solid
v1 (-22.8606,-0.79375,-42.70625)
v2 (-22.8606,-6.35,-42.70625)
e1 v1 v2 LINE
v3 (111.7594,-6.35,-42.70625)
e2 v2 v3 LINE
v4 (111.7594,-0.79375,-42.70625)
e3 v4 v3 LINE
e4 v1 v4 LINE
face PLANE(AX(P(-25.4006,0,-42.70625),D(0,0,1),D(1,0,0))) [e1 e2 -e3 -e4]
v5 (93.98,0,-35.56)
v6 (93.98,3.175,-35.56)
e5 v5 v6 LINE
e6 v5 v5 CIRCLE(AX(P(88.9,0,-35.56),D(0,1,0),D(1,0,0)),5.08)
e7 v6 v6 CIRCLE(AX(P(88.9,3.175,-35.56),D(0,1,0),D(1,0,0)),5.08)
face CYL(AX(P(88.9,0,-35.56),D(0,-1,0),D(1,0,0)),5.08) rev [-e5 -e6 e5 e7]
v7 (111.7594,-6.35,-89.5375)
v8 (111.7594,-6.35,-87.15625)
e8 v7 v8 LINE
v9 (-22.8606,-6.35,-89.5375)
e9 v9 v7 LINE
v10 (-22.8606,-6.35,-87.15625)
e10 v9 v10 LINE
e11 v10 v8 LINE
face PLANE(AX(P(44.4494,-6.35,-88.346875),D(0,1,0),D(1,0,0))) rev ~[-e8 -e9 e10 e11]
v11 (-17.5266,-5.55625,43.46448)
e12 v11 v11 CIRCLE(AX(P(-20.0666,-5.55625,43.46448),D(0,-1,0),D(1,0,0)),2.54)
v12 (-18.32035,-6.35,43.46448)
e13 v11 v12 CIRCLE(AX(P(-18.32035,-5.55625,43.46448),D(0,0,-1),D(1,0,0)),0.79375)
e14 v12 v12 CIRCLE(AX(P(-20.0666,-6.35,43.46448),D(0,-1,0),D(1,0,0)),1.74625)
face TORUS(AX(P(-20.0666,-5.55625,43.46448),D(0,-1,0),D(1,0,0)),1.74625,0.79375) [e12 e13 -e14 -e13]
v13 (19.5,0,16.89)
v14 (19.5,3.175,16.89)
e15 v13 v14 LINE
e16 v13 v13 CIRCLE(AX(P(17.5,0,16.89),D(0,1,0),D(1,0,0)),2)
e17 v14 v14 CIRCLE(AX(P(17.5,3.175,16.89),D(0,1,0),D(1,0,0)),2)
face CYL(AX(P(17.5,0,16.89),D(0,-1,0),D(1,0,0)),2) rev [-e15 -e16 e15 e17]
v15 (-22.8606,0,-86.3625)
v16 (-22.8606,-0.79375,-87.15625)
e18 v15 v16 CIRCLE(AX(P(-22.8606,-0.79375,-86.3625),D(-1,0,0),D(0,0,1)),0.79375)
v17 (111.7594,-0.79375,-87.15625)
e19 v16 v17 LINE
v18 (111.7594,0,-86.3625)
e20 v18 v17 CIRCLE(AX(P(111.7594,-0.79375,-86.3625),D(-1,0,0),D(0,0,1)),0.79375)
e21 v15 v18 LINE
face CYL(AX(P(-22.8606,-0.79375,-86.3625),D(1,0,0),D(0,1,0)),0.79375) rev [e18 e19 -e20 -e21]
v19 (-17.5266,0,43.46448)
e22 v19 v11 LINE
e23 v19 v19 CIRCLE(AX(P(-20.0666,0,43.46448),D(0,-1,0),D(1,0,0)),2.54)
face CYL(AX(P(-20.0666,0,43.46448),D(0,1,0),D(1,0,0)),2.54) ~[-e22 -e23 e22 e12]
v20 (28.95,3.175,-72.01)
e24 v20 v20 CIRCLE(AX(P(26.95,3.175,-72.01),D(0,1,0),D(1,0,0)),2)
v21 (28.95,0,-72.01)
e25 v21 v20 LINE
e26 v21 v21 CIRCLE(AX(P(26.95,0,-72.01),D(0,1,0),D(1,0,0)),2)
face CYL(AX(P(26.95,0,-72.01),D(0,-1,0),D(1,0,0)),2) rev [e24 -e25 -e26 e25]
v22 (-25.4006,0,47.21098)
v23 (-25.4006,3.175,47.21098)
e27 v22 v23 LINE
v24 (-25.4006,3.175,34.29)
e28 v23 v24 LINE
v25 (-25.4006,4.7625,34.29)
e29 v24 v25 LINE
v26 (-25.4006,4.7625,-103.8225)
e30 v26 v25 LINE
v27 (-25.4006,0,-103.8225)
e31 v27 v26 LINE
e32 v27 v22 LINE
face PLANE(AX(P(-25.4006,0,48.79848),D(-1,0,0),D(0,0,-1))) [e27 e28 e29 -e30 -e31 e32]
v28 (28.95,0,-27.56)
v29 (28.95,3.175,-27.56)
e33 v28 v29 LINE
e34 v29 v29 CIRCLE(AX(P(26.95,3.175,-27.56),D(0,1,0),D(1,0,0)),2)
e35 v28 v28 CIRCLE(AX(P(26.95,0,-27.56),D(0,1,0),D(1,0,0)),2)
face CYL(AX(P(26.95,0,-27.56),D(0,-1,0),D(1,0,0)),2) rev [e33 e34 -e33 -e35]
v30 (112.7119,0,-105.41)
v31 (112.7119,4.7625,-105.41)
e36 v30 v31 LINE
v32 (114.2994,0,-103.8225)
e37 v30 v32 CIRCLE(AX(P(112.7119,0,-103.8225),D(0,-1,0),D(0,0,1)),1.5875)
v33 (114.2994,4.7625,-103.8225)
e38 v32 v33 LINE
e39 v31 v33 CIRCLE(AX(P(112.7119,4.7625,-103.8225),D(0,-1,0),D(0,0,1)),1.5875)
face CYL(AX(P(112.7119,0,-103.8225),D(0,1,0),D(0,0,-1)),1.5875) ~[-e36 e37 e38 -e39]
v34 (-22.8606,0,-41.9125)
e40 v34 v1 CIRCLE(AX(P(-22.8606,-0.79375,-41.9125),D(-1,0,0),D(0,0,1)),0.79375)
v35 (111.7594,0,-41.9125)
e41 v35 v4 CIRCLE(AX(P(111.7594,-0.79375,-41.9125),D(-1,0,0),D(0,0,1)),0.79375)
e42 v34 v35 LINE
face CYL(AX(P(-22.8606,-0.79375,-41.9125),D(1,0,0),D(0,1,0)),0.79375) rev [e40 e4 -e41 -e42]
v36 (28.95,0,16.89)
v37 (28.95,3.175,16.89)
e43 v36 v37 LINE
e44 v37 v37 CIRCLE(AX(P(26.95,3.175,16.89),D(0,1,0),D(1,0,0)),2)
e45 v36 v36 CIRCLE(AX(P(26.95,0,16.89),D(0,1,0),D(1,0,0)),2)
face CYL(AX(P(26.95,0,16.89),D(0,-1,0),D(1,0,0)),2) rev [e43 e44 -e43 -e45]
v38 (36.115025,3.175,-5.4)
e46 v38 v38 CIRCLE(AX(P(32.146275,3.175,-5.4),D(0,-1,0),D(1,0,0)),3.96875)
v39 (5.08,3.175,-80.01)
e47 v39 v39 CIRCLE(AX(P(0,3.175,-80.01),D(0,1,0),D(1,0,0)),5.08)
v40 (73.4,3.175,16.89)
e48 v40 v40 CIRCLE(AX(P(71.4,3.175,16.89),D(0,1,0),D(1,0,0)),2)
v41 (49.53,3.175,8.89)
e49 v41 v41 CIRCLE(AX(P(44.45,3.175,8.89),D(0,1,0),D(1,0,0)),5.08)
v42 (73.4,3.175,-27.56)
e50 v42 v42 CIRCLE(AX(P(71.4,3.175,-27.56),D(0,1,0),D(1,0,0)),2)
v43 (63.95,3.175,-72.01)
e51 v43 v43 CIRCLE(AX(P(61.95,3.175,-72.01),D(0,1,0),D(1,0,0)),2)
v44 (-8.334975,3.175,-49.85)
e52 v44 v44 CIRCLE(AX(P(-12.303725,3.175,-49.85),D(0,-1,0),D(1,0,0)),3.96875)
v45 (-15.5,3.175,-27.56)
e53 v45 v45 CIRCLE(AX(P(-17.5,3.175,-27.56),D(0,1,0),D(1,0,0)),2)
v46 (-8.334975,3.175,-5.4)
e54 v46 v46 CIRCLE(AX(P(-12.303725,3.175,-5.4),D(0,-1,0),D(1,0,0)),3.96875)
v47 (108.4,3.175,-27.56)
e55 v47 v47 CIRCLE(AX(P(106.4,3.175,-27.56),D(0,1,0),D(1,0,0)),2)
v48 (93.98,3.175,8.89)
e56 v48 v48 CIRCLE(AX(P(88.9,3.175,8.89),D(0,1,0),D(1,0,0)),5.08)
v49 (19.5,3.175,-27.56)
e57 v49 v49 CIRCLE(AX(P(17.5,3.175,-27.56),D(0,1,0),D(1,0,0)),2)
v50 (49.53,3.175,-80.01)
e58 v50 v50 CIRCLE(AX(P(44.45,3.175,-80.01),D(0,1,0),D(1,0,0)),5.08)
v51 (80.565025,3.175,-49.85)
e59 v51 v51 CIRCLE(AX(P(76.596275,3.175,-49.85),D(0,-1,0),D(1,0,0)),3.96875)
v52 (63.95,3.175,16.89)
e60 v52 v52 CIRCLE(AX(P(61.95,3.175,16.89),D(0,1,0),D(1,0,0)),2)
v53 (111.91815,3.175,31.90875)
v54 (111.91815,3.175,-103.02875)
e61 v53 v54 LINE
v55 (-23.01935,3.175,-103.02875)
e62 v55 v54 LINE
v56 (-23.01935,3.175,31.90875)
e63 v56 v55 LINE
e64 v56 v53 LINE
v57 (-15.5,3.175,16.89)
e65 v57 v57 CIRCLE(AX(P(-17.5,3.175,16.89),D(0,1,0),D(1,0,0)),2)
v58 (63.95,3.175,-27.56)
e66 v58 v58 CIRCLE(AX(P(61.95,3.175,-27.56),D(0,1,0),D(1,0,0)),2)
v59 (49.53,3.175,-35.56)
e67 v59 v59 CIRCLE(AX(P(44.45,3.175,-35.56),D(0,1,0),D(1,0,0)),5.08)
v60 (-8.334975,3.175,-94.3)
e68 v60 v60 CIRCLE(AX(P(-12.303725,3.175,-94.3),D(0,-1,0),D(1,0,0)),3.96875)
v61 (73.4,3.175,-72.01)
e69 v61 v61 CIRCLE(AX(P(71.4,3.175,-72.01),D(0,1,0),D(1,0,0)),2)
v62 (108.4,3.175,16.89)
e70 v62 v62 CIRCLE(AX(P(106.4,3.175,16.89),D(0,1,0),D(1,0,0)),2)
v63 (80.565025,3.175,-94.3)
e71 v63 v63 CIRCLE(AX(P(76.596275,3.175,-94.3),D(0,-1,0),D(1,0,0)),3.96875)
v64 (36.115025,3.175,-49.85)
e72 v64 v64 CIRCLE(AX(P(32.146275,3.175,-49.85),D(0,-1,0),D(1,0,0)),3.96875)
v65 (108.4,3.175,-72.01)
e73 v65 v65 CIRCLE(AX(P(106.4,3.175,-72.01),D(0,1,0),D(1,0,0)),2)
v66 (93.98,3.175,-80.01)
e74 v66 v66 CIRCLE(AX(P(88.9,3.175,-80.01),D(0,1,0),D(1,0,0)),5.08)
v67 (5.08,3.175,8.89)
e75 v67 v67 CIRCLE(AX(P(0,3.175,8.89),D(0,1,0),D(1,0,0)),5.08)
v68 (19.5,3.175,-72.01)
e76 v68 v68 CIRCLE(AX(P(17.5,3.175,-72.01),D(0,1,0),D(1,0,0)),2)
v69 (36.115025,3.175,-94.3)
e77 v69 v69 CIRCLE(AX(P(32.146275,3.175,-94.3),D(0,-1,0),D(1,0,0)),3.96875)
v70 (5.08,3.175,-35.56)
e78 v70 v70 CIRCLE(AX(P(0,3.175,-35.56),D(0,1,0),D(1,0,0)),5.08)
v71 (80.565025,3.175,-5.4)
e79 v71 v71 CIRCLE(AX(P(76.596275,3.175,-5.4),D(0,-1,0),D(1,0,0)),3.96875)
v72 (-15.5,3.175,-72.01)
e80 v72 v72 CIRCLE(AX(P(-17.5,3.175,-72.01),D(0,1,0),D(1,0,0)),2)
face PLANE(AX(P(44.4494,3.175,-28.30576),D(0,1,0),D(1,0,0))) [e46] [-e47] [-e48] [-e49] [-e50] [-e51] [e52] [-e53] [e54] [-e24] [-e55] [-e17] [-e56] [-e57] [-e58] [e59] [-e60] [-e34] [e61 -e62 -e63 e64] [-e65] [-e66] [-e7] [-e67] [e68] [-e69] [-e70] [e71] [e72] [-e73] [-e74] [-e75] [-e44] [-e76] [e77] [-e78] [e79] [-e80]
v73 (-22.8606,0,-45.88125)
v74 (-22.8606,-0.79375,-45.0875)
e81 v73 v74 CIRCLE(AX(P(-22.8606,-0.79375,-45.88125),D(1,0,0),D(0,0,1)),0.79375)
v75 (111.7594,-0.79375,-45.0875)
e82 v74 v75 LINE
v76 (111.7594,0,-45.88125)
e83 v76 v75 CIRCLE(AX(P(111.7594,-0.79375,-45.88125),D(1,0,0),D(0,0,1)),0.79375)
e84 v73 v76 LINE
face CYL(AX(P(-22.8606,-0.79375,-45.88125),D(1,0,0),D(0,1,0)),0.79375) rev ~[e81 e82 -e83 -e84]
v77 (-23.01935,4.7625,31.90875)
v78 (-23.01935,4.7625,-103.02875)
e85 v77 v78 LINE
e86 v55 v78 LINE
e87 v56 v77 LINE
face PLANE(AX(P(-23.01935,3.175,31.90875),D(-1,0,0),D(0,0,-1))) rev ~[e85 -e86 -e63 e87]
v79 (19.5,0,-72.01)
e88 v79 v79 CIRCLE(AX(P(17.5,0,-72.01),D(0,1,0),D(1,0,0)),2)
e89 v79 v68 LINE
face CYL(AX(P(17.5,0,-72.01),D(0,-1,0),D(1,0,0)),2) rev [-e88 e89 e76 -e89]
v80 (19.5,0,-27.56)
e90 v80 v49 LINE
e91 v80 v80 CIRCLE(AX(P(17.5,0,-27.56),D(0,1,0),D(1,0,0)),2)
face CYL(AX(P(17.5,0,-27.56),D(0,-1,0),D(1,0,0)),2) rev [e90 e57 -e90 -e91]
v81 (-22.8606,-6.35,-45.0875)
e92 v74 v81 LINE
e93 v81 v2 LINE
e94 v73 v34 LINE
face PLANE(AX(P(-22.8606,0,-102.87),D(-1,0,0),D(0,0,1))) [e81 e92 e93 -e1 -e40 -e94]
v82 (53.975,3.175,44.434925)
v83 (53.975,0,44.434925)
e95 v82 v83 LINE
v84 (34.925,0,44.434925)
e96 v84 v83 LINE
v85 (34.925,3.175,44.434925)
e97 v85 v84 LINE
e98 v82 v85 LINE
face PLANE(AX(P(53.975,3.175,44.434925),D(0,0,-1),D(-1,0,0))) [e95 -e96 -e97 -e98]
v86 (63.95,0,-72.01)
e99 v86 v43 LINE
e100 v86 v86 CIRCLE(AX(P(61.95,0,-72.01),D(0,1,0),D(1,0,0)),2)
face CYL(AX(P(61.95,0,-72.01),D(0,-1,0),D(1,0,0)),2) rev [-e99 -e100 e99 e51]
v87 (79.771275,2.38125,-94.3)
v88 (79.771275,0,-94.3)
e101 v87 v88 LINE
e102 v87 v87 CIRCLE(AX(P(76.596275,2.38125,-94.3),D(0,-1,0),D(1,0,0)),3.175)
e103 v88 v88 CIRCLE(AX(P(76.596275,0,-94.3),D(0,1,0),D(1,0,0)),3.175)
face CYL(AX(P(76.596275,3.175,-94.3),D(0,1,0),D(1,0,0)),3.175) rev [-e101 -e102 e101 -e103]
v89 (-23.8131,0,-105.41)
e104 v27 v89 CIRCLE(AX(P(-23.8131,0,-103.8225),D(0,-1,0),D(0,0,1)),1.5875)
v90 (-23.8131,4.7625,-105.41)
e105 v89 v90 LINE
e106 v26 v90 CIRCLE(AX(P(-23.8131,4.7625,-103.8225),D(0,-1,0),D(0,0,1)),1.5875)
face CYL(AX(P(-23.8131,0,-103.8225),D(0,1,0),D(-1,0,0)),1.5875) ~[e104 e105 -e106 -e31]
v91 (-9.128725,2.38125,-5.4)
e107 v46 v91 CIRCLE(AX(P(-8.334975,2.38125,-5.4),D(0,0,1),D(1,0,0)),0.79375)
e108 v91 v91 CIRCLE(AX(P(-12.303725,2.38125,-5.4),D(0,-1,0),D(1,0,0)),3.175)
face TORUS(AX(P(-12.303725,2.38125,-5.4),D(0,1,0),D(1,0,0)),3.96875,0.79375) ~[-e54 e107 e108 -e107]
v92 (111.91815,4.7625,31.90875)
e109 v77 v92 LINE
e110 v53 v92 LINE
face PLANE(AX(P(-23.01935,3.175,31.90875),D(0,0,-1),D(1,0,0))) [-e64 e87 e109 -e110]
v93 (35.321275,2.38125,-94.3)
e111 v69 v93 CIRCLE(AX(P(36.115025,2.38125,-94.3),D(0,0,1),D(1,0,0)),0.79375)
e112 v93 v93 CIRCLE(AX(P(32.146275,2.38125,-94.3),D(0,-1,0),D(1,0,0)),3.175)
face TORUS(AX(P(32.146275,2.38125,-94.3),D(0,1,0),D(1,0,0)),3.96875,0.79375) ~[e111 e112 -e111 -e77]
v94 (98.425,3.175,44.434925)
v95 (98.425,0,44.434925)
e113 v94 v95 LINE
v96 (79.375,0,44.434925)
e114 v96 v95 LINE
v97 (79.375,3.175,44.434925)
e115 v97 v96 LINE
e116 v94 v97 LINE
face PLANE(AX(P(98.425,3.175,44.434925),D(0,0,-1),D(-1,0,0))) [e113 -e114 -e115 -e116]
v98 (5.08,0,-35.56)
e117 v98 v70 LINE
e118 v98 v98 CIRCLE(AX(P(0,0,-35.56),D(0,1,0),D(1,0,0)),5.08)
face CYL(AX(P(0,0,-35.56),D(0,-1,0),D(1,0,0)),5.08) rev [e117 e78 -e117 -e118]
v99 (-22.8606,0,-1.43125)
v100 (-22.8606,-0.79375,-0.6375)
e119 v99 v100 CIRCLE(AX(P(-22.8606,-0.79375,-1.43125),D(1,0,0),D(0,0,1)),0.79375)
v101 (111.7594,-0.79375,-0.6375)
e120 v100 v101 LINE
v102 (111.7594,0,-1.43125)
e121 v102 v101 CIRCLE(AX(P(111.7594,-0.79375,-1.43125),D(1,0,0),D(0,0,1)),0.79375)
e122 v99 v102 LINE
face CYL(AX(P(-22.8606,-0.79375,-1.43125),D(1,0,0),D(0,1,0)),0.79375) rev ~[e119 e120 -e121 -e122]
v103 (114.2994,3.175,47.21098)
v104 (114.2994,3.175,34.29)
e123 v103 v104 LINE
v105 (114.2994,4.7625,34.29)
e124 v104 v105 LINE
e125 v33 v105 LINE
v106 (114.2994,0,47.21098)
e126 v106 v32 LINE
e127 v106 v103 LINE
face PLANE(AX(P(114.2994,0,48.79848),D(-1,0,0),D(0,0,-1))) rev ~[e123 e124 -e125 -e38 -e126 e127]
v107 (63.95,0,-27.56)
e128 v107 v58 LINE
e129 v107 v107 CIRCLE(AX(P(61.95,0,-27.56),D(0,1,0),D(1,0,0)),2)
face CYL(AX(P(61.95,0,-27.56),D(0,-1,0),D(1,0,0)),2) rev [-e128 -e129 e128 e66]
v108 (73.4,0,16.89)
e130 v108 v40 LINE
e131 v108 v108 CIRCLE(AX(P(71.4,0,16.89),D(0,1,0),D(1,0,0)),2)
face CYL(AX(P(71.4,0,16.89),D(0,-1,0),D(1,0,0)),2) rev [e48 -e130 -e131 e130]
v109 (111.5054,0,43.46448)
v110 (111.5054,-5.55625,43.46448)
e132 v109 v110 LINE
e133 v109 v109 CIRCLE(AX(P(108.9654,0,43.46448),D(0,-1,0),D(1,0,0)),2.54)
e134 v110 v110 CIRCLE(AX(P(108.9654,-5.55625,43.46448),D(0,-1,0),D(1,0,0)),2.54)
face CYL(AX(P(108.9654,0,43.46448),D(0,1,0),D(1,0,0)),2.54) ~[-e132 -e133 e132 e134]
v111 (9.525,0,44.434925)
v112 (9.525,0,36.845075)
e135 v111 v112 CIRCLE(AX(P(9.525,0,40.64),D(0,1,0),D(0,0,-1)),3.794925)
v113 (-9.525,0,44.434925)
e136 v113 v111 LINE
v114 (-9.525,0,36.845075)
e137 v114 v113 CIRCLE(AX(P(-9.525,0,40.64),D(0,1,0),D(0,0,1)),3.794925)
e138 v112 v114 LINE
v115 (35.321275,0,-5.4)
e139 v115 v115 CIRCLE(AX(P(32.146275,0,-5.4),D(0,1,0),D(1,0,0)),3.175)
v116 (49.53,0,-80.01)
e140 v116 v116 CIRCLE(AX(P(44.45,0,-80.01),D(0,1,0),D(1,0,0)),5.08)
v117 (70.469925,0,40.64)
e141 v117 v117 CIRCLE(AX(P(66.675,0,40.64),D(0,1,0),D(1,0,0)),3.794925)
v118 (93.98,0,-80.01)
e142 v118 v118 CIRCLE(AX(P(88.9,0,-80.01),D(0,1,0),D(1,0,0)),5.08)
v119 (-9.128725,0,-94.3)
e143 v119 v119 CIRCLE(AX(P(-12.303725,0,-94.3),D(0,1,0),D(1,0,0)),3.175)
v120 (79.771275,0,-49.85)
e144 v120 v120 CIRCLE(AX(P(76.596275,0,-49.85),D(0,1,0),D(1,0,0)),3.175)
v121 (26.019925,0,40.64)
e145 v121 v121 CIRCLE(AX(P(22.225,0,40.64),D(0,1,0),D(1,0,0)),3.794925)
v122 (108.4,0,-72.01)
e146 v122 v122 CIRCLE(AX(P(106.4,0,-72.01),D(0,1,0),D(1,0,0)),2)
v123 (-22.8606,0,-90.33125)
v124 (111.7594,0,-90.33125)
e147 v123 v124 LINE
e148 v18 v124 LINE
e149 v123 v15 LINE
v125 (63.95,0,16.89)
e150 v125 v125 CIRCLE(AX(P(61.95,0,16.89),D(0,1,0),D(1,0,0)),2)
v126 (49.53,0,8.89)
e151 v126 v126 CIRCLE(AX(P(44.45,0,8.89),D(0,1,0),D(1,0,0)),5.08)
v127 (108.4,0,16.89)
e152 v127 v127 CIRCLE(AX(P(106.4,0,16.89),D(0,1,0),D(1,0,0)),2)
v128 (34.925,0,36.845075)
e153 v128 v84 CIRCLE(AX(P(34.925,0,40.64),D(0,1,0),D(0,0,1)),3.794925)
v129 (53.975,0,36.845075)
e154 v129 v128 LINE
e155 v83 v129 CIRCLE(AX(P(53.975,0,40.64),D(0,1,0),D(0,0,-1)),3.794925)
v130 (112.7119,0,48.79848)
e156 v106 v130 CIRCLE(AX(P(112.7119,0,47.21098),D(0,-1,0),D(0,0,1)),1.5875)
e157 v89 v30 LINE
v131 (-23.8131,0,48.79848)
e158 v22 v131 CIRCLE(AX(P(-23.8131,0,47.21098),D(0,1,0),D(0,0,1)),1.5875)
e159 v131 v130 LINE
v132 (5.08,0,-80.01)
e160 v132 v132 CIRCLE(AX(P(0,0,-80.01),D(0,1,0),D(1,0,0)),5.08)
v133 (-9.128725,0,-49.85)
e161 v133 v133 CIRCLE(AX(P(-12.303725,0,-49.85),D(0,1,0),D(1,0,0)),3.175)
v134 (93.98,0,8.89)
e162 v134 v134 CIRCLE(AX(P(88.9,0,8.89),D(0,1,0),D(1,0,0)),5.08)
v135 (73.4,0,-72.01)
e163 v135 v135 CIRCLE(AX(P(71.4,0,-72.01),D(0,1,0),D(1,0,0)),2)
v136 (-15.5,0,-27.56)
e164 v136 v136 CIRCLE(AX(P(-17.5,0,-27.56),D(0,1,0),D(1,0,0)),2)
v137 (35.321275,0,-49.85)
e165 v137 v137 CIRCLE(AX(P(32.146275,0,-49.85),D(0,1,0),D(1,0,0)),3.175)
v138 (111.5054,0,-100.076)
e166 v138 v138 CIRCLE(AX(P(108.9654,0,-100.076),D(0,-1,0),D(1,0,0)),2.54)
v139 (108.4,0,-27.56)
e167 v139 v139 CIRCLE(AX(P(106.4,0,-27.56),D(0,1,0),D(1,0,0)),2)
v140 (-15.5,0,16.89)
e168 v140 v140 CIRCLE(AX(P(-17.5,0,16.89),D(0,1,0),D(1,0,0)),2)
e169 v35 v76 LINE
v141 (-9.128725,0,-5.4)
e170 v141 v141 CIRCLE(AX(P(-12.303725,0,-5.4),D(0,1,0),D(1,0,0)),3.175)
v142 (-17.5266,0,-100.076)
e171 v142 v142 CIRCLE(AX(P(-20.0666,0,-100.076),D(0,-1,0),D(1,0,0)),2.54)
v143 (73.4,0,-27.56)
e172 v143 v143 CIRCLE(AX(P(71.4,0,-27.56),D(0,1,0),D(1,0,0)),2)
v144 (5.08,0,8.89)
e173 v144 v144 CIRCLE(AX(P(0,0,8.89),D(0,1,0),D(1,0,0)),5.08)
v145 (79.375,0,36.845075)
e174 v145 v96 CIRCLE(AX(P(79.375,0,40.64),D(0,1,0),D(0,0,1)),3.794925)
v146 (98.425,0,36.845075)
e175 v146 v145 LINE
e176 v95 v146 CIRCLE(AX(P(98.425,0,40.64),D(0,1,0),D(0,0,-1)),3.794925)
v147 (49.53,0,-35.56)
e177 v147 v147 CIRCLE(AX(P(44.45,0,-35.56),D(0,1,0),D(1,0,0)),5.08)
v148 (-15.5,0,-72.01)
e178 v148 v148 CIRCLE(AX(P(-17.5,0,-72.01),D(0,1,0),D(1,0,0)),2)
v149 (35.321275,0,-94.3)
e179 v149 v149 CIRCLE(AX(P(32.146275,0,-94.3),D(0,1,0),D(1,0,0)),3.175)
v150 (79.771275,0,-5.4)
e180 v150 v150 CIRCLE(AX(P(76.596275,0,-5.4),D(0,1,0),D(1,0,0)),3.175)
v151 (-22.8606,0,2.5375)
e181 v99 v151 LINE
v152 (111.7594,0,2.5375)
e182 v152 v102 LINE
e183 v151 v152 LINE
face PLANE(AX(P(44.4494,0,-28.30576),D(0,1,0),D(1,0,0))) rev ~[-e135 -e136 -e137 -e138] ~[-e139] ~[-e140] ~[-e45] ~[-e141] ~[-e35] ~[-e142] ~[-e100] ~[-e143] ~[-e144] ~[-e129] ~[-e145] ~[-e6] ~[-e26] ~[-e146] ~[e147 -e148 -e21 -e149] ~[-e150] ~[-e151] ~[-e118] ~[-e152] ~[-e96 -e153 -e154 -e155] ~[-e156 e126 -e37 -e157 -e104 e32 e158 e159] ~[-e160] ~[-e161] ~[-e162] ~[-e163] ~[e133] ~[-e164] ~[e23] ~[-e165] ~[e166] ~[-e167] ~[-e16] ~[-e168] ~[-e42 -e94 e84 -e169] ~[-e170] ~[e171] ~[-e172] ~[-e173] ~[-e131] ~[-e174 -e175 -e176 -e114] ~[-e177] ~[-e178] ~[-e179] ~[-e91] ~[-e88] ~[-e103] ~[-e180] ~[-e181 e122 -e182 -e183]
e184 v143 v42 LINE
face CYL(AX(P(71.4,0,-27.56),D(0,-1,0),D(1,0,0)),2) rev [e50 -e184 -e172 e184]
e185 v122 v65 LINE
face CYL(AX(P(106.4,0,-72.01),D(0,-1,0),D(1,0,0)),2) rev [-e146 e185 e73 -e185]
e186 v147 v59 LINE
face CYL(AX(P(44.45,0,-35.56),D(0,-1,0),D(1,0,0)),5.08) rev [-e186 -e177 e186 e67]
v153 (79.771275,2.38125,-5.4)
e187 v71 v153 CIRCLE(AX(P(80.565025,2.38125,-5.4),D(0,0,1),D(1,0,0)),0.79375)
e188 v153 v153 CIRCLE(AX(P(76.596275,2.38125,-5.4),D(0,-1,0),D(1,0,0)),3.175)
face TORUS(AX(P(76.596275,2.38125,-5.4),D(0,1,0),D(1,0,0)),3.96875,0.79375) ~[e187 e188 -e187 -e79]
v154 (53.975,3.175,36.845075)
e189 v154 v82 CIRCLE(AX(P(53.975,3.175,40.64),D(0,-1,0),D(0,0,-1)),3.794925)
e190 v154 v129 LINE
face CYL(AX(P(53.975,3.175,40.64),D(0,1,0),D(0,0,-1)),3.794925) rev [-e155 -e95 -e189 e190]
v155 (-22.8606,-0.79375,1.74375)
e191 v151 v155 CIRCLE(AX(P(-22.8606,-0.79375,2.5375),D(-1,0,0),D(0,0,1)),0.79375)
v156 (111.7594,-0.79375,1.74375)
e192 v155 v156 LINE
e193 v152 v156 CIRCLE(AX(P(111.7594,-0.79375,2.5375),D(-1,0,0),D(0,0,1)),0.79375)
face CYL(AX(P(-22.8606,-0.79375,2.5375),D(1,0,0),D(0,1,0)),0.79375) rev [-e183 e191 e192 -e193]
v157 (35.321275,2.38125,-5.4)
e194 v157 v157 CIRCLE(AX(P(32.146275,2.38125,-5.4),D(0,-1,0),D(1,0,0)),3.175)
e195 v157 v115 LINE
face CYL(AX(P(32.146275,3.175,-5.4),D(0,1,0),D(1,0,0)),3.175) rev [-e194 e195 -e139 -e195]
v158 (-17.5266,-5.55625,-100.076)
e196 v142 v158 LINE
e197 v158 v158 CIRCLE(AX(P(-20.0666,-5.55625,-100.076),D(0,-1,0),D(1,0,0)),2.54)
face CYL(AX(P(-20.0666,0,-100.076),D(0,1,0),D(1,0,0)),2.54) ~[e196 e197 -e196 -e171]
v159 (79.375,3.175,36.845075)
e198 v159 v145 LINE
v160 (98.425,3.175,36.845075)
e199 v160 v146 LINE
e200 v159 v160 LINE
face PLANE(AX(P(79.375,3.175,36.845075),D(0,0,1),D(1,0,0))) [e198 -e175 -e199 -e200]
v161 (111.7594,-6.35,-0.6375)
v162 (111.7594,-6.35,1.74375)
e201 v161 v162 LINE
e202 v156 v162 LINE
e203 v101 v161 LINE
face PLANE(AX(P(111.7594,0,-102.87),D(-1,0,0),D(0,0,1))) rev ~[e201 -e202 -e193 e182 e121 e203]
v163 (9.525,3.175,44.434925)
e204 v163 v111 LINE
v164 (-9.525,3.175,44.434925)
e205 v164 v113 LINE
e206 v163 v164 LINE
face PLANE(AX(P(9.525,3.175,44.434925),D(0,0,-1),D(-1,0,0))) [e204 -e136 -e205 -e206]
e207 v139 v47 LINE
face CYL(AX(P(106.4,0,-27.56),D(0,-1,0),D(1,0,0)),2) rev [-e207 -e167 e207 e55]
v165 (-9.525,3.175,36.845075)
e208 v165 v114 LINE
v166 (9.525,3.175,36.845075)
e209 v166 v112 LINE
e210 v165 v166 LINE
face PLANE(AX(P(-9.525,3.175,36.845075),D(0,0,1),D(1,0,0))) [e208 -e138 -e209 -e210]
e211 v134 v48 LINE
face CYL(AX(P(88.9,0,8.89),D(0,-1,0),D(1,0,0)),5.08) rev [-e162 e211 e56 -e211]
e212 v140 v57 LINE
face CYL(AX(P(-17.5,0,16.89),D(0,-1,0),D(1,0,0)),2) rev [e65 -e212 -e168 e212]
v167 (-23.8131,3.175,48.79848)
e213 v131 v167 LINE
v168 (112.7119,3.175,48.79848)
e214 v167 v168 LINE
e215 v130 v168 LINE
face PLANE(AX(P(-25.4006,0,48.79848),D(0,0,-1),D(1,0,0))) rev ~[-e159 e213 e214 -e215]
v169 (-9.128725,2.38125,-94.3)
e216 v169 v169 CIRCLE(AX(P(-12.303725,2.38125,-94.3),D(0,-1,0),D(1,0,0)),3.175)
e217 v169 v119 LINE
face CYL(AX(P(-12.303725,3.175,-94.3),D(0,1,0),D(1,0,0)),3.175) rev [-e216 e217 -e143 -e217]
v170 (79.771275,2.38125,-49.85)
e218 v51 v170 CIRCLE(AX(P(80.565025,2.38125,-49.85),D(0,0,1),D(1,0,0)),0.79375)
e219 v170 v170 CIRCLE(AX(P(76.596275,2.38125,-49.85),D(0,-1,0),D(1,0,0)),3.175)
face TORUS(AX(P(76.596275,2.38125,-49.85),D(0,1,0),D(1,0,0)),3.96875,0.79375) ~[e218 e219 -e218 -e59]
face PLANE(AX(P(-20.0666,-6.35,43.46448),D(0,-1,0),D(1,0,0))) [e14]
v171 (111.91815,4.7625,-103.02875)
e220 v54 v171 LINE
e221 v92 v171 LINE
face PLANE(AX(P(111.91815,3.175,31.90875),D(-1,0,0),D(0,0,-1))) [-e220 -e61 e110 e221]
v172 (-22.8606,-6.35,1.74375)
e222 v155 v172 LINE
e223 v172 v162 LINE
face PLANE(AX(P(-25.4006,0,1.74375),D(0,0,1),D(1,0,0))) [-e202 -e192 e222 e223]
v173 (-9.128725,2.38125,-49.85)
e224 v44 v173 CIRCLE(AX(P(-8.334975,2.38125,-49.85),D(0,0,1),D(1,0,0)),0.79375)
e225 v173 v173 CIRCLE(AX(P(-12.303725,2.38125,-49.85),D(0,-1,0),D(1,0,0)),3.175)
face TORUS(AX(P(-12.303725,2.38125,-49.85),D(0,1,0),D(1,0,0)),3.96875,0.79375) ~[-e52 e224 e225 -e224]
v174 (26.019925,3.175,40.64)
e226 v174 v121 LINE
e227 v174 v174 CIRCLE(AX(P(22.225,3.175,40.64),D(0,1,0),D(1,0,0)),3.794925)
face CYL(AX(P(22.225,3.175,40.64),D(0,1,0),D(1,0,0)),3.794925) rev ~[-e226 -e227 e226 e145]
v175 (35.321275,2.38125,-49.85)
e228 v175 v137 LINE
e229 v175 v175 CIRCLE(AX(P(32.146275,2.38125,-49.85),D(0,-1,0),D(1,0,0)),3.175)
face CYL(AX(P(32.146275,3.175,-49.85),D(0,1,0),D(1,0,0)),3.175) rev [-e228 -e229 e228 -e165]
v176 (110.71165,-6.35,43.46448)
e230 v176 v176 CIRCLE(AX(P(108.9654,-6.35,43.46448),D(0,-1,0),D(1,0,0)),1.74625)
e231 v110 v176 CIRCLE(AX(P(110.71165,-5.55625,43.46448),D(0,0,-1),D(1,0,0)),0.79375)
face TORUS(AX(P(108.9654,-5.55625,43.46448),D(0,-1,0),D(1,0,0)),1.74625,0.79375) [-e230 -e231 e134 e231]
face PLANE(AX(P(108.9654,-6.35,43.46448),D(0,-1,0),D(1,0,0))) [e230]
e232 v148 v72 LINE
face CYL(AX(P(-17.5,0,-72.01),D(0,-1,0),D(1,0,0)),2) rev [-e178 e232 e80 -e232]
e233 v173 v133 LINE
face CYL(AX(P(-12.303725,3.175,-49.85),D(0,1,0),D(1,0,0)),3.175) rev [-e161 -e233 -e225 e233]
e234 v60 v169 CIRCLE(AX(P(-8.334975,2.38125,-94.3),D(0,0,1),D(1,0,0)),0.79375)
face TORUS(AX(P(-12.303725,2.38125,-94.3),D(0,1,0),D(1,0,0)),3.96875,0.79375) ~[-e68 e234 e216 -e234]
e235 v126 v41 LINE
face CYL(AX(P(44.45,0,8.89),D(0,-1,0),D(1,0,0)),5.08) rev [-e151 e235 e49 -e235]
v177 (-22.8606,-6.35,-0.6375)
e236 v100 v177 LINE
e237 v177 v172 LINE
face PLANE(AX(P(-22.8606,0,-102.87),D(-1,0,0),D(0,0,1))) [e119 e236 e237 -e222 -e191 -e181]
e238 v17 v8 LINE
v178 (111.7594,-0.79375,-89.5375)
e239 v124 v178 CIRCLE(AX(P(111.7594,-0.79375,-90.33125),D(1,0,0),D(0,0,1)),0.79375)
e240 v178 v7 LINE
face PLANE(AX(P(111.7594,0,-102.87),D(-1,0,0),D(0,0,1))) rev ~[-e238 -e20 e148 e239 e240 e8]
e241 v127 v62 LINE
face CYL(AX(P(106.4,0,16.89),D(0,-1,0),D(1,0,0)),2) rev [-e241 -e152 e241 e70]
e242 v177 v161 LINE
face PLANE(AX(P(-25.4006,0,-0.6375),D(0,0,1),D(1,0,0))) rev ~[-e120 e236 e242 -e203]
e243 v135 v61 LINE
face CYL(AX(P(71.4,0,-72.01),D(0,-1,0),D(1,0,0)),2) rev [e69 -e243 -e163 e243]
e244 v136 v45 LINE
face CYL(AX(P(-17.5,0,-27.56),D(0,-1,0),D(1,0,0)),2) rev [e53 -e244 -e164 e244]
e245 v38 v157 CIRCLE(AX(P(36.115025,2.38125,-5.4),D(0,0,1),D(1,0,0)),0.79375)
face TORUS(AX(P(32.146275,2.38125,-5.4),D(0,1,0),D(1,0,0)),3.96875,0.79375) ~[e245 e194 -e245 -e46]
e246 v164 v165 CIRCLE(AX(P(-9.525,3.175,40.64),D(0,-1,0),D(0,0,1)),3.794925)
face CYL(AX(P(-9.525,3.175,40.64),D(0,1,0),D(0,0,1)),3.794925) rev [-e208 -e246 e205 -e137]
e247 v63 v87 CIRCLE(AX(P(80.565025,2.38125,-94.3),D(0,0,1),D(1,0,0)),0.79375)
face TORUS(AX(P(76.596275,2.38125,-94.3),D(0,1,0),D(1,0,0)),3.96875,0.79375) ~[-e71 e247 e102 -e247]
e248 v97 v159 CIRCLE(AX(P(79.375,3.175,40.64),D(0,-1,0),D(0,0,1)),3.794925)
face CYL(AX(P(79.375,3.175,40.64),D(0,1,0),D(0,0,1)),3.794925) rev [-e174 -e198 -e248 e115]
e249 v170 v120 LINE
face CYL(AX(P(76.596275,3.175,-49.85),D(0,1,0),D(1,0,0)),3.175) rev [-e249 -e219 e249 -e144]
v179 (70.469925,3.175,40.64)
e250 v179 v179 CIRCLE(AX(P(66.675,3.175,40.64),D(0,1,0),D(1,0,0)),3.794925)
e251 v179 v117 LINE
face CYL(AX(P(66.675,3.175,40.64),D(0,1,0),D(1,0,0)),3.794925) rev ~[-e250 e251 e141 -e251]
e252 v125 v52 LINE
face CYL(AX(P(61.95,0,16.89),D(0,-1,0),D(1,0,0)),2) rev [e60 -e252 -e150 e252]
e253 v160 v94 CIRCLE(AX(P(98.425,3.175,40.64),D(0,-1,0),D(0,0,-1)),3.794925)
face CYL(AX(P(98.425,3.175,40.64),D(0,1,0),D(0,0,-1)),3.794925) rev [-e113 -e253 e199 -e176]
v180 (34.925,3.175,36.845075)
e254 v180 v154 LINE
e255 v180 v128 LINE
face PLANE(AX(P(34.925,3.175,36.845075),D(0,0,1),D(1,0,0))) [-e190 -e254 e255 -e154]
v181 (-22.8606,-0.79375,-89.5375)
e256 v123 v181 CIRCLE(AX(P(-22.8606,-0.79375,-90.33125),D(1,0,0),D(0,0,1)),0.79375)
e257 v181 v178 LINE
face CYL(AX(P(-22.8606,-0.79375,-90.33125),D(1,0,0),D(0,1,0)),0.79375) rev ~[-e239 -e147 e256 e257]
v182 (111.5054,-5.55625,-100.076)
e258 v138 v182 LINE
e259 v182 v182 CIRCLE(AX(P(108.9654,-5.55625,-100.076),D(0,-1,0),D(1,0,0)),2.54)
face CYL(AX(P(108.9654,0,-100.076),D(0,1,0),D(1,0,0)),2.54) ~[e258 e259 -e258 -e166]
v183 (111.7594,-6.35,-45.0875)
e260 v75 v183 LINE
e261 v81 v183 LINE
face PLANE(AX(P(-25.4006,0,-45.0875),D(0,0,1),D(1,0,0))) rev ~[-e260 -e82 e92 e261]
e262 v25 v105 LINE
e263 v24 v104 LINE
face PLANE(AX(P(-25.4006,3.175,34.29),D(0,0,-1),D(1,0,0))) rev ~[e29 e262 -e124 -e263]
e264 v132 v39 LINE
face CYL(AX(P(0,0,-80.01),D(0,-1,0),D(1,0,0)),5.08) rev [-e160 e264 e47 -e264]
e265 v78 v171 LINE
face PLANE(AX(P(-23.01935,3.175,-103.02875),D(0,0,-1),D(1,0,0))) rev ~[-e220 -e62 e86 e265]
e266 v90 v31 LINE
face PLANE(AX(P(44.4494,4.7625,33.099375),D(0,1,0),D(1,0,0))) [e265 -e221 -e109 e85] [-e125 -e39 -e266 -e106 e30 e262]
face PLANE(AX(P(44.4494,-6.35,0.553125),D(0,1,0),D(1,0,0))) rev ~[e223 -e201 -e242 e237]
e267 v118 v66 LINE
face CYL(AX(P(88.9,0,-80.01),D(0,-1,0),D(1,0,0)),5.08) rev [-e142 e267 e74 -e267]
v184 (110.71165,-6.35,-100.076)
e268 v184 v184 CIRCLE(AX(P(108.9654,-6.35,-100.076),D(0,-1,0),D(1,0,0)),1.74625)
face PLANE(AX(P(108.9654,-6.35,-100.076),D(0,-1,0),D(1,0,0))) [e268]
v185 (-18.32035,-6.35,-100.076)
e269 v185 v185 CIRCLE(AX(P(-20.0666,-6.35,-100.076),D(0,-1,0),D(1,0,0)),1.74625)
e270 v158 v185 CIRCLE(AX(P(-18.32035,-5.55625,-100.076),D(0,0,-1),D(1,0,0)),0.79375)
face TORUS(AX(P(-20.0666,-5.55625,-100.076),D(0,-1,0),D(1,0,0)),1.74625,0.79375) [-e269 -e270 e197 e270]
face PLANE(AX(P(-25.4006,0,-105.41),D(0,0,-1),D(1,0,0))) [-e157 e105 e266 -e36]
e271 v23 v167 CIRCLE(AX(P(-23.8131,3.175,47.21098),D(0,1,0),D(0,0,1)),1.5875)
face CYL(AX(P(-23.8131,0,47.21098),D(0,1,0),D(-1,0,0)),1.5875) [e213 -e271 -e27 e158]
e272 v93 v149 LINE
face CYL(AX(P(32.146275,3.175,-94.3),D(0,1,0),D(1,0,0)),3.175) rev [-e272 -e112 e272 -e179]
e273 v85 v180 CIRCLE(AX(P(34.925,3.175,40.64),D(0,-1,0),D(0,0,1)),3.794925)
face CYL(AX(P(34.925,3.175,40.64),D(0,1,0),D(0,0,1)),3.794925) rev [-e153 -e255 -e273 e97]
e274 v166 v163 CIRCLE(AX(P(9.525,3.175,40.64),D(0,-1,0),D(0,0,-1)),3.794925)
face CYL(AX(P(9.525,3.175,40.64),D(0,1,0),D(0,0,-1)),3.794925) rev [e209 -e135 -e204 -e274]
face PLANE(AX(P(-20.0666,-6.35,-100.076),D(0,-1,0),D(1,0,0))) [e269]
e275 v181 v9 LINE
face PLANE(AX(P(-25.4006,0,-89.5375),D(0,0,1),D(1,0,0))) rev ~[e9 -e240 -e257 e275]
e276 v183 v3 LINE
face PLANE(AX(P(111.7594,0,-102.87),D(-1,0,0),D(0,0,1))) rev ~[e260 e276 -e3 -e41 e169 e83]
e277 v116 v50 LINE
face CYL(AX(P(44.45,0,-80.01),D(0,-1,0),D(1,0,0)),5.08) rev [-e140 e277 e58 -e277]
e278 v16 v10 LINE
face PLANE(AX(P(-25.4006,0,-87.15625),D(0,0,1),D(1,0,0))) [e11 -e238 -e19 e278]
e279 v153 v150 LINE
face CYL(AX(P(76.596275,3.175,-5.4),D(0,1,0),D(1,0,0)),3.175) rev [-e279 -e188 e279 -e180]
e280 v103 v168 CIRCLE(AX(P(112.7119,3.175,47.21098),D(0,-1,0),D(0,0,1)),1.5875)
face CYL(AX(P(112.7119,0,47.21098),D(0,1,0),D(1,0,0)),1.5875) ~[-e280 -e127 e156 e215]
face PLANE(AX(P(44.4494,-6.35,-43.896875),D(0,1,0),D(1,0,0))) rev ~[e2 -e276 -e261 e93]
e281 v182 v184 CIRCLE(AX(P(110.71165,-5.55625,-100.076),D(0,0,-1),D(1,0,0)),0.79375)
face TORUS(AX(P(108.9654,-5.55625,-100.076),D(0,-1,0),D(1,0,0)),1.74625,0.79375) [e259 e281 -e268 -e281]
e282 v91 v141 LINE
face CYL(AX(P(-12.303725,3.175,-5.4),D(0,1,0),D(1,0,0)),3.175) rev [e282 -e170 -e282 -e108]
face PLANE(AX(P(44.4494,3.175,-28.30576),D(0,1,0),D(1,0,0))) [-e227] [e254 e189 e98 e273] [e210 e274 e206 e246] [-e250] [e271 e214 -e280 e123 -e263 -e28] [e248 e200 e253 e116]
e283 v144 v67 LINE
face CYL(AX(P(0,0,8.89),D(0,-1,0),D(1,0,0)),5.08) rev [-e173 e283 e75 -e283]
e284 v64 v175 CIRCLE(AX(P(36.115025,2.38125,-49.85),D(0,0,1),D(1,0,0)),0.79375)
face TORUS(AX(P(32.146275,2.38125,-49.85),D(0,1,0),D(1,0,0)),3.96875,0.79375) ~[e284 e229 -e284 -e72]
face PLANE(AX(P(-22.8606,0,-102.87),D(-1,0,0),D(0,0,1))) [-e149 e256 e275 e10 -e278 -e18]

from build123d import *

# Parameters (mm, degrees)
SKETCH1_W            = 139.7
SKETCH1_H            = 154.20848
SKETCH1_R            = 2
SKETCH1_R_2          = 5.08
BOSS_EXTRUDE4_DEPTH  = 3.175
SKETCH4_W            = 139.7
SKETCH4_H            = 2.38125
BOSS_EXTRUDE7_DEPTH  = 1.5875
CUT_EXTRUDE1_REACH   = 157.518
SKETCH5_R            = 3.175
CUT_EXTRUDE2_REACH   = 157.518
SKETCH7_R            = 3.794925378
FILLET1_R            = 0.79375
SKETCH8_W            = 139.7
SKETCH8_H            = 2.38125
BOSS_EXTRUDE8_DEPTH  = 6.35
LPATTERN2_COUNT      = 3
LPATTERN2_PITCH      = 44.45
SKETCH9_W            = 139.7
SKETCH9_H            = 154.20848
SKETCH9_W_2          = 134.62
SKETCH9_H_2          = 149.12848
CUT_EXTRUDE3_DEPTH   = 6.35
SKETCH10_W           = 139.7
SKETCH10_H           = 139.7
SKETCH10_W_2         = 134.9375
SKETCH10_H_2         = 134.9375
BOSS_EXTRUDE9_DEPTH  = 1.5875
SKETCH11_R           = 2.54
BOSS_EXTRUDE10_DEPTH = 6.35
FILLET5_R            = 0.79375
FILLET6_R            = 1.5875


with BuildPart() as part:
    # Sketch1 → Boss-Extrude4 (new body)
    with BuildSketch(Plane(origin=(0, 0, 0), x_dir=(1, 0, 0), z_dir=(0, 1, 0))):
        with Locations((44.4494, 28.305760002)):
            Rectangle(SKETCH1_W, SKETCH1_H)
        with Locations((-17.5, -16.889999998)):
            Circle(SKETCH1_R, mode=Mode.SUBTRACT)
        with Locations((17.5, -16.889999998)):
            Circle(SKETCH1_R, mode=Mode.SUBTRACT)
        with Locations((26.95, -16.889999998)):
            Circle(SKETCH1_R, mode=Mode.SUBTRACT)
        with Locations((0, -8.889999998)):
            Circle(SKETCH1_R_2, mode=Mode.SUBTRACT)
        with Locations((-17.5, 27.560000002)):
            Circle(SKETCH1_R, mode=Mode.SUBTRACT)
        with Locations((17.5, 27.560000002)):
            Circle(SKETCH1_R, mode=Mode.SUBTRACT)
        with Locations((26.95, 27.560000002)):
            Circle(SKETCH1_R, mode=Mode.SUBTRACT)
        with Locations((61.95, -16.889999998)):
            Circle(SKETCH1_R, mode=Mode.SUBTRACT)
        with Locations((71.4, -16.889999998)):
            Circle(SKETCH1_R, mode=Mode.SUBTRACT)
        with Locations((106.4, -16.889999998)):
            Circle(SKETCH1_R, mode=Mode.SUBTRACT)
        with Locations((44.45, -8.889999998)):
            Circle(SKETCH1_R_2, mode=Mode.SUBTRACT)
        with Locations((61.95, 27.560000002)):
            Circle(SKETCH1_R, mode=Mode.SUBTRACT)
        with Locations((71.4, 27.560000002)):
            Circle(SKETCH1_R, mode=Mode.SUBTRACT)
        with Locations((88.9, -8.889999998)):
            Circle(SKETCH1_R_2, mode=Mode.SUBTRACT)
        with Locations((106.4, 27.560000002)):
            Circle(SKETCH1_R, mode=Mode.SUBTRACT)
        with Locations((0, 35.560000002)):
            Circle(SKETCH1_R_2, mode=Mode.SUBTRACT)
        with Locations((-17.5, 72.010000002)):
            Circle(SKETCH1_R, mode=Mode.SUBTRACT)
        with Locations((0, 80.010000002)):
            Circle(SKETCH1_R_2, mode=Mode.SUBTRACT)
        with Locations((17.5, 72.010000002)):
            Circle(SKETCH1_R, mode=Mode.SUBTRACT)
        with Locations((26.95, 72.010000002)):
            Circle(SKETCH1_R, mode=Mode.SUBTRACT)
        with Locations((44.45, 35.560000002)):
            Circle(SKETCH1_R_2, mode=Mode.SUBTRACT)
        with Locations((88.9, 35.560000002)):
            Circle(SKETCH1_R_2, mode=Mode.SUBTRACT)
        with Locations((44.45, 80.010000002)):
            Circle(SKETCH1_R_2, mode=Mode.SUBTRACT)
        with Locations((61.95, 72.010000002)):
            Circle(SKETCH1_R, mode=Mode.SUBTRACT)
        with Locations((71.4, 72.010000002)):
            Circle(SKETCH1_R, mode=Mode.SUBTRACT)
        with Locations((88.9, 80.010000002)):
            Circle(SKETCH1_R_2, mode=Mode.SUBTRACT)
        with Locations((106.4, 72.010000002)):
            Circle(SKETCH1_R, mode=Mode.SUBTRACT)
    extrude(amount=BOSS_EXTRUDE4_DEPTH)

    # Sketch4 → Boss-Extrude7 (add)
    with BuildSketch(Plane(origin=(0, 3.175, 0), x_dir=(1, 0, 0), z_dir=(0, 1, 0))):
        with Locations((44.4494, -33.099374998)):
            Rectangle(SKETCH4_W, SKETCH4_H)
    extrude(amount=BOSS_EXTRUDE7_DEPTH)

    # Sketch5 → Cut-Extrude1 (cut, up to next)
    with BuildSketch(Plane.XZ.offset(-3.175), mode=Mode.PRIVATE) as cut_extrude1_sk1:
        with Locations((-12.303725, -94.300000002)):
            Circle(SKETCH5_R)
    cut_extrude1_tool1 = extrude(cut_extrude1_sk1.sketch, amount=CUT_EXTRUDE1_REACH, mode=Mode.PRIVATE) & part.part
    # Sketch5 → Cut-Extrude1 (cut, up to next)
    with BuildSketch(Plane.XZ.offset(-3.175), mode=Mode.PRIVATE) as cut_extrude1_sk2:
        with Locations((32.146275, -94.300000002)):
            Circle(SKETCH5_R)
    cut_extrude1_tool2 = extrude(cut_extrude1_sk2.sketch, amount=CUT_EXTRUDE1_REACH, mode=Mode.PRIVATE) & part.part
    # Sketch5 → Cut-Extrude1 (cut, up to next)
    with BuildSketch(Plane.XZ.offset(-3.175), mode=Mode.PRIVATE) as cut_extrude1_sk3:
        with Locations((76.596275, -94.300000002)):
            Circle(SKETCH5_R)
    cut_extrude1_tool3 = extrude(cut_extrude1_sk3.sketch, amount=CUT_EXTRUDE1_REACH, mode=Mode.PRIVATE) & part.part
    # Sketch5 → Cut-Extrude1 (cut, up to next)
    with BuildSketch(Plane.XZ.offset(-3.175), mode=Mode.PRIVATE) as cut_extrude1_sk4:
        with Locations((32.146275, -49.850000002)):
            Circle(SKETCH5_R)
    cut_extrude1_tool4 = extrude(cut_extrude1_sk4.sketch, amount=CUT_EXTRUDE1_REACH, mode=Mode.PRIVATE) & part.part
    # Sketch5 → Cut-Extrude1 (cut, up to next)
    with BuildSketch(Plane.XZ.offset(-3.175), mode=Mode.PRIVATE) as cut_extrude1_sk5:
        with Locations((76.596275, -49.850000002)):
            Circle(SKETCH5_R)
    cut_extrude1_tool5 = extrude(cut_extrude1_sk5.sketch, amount=CUT_EXTRUDE1_REACH, mode=Mode.PRIVATE) & part.part
    # Sketch5 → Cut-Extrude1 (cut, up to next)
    with BuildSketch(Plane.XZ.offset(-3.175), mode=Mode.PRIVATE) as cut_extrude1_sk6:
        with Locations((32.146275, -5.400000002)):
            Circle(SKETCH5_R)
    cut_extrude1_tool6 = extrude(cut_extrude1_sk6.sketch, amount=CUT_EXTRUDE1_REACH, mode=Mode.PRIVATE) & part.part
    # Sketch5 → Cut-Extrude1 (cut, up to next)
    with BuildSketch(Plane.XZ.offset(-3.175), mode=Mode.PRIVATE) as cut_extrude1_sk7:
        with Locations((76.596275, -5.400000002)):
            Circle(SKETCH5_R)
    cut_extrude1_tool7 = extrude(cut_extrude1_sk7.sketch, amount=CUT_EXTRUDE1_REACH, mode=Mode.PRIVATE) & part.part
    # Sketch5 → Cut-Extrude1 (cut, up to next)
    with BuildSketch(Plane.XZ.offset(-3.175), mode=Mode.PRIVATE) as cut_extrude1_sk8:
        with Locations((-12.303725, -49.850000002)):
            Circle(SKETCH5_R)
    cut_extrude1_tool8 = extrude(cut_extrude1_sk8.sketch, amount=CUT_EXTRUDE1_REACH, mode=Mode.PRIVATE) & part.part
    # Sketch5 → Cut-Extrude1 (cut, up to next)
    with BuildSketch(Plane.XZ.offset(-3.175), mode=Mode.PRIVATE) as cut_extrude1_sk9:
        with Locations((-12.303725, -5.400000002)):
            Circle(SKETCH5_R)
    cut_extrude1_tool9 = extrude(cut_extrude1_sk9.sketch, amount=CUT_EXTRUDE1_REACH, mode=Mode.PRIVATE) & part.part
    add(cut_extrude1_tool1.solids().sort_by_distance((-12.303725, 3.175, -94.3))[0], mode=Mode.SUBTRACT)
    add(cut_extrude1_tool2.solids().sort_by_distance((32.146275, 3.175, -94.3))[0], mode=Mode.SUBTRACT)
    add(cut_extrude1_tool3.solids().sort_by_distance((76.596275, 3.175, -94.3))[0], mode=Mode.SUBTRACT)
    add(cut_extrude1_tool4.solids().sort_by_distance((32.146275, 3.175, -49.85))[0], mode=Mode.SUBTRACT)
    add(cut_extrude1_tool5.solids().sort_by_distance((76.596275, 3.175, -49.85))[0], mode=Mode.SUBTRACT)
    add(cut_extrude1_tool6.solids().sort_by_distance((32.146275, 3.175, -5.4))[0], mode=Mode.SUBTRACT)
    add(cut_extrude1_tool7.solids().sort_by_distance((76.596275, 3.175, -5.4))[0], mode=Mode.SUBTRACT)
    add(cut_extrude1_tool8.solids().sort_by_distance((-12.303725, 3.175, -49.85))[0], mode=Mode.SUBTRACT)
    add(cut_extrude1_tool9.solids().sort_by_distance((-12.303725, 3.175, -5.4))[0], mode=Mode.SUBTRACT)

    # Sketch7 → Cut-Extrude2 (cut, up to next)
    with BuildSketch(Plane(origin=(0, 3.175, 0), x_dir=(1, 0, 0), z_dir=(0, 1, 0)), mode=Mode.PRIVATE) as cut_extrude2_sk1:
        with Locations((22.225, -40.639999998)):
            Circle(SKETCH7_R)
    cut_extrude2_tool1 = extrude(cut_extrude2_sk1.sketch, amount=-CUT_EXTRUDE2_REACH, mode=Mode.PRIVATE) & part.part
    # Sketch7 → Cut-Extrude2 (cut, up to next)
    with BuildSketch(Plane(origin=(0, 3.175, 0), x_dir=(1, 0, 0), z_dir=(0, 1, 0)), mode=Mode.PRIVATE) as cut_extrude2_sk2:
        with Locations((66.675, -40.639999998)):
            Circle(SKETCH7_R)
    cut_extrude2_tool2 = extrude(cut_extrude2_sk2.sketch, amount=-CUT_EXTRUDE2_REACH, mode=Mode.PRIVATE) & part.part
    # Sketch7 → Cut-Extrude2 (cut, up to next)
    with BuildSketch(Plane(origin=(0, 3.175, 0), x_dir=(1, 0, 0), z_dir=(0, 1, 0)), mode=Mode.PRIVATE) as cut_extrude2_sk3:
        with BuildLine():
            Line((9.525, -44.434925376), (-9.525, -44.434925376))
            ThreePointArc((-9.525, -44.434925376), (-13.319925378, -40.639999998), (-9.525, -36.84507462))
            Line((-9.525, -36.84507462), (9.525, -36.84507462))
            ThreePointArc((9.525, -36.84507462), (13.319925378, -40.639999998), (9.525, -44.434925376))
        make_face()
    cut_extrude2_tool3 = extrude(cut_extrude2_sk3.sketch, amount=-CUT_EXTRUDE2_REACH, mode=Mode.PRIVATE) & part.part
    # Sketch7 → Cut-Extrude2 (cut, up to next)
    with BuildSketch(Plane(origin=(0, 3.175, 0), x_dir=(1, 0, 0), z_dir=(0, 1, 0)), mode=Mode.PRIVATE) as cut_extrude2_sk4:
        with BuildLine():
            Line((53.975, -44.434925376), (34.925, -44.434925376))
            ThreePointArc((34.925, -44.434925376), (31.130074622, -40.639999998), (34.925, -36.84507462))
            Line((34.925, -36.84507462), (53.975, -36.84507462))
            ThreePointArc((53.975, -36.84507462), (57.769925378, -40.639999998), (53.975, -44.434925376))
        make_face()
    cut_extrude2_tool4 = extrude(cut_extrude2_sk4.sketch, amount=-CUT_EXTRUDE2_REACH, mode=Mode.PRIVATE) & part.part
    # Sketch7 → Cut-Extrude2 (cut, up to next)
    with BuildSketch(Plane(origin=(0, 3.175, 0), x_dir=(1, 0, 0), z_dir=(0, 1, 0)), mode=Mode.PRIVATE) as cut_extrude2_sk5:
        with BuildLine():
            Line((98.425, -44.434925376), (79.375, -44.434925376))
            ThreePointArc((79.375, -44.434925376), (75.580074622, -40.639999998), (79.375, -36.84507462))
            Line((79.375, -36.84507462), (98.425, -36.84507462))
            ThreePointArc((98.425, -36.84507462), (102.219925378, -40.639999998), (98.425, -44.434925376))
        make_face()
    cut_extrude2_tool5 = extrude(cut_extrude2_sk5.sketch, amount=-CUT_EXTRUDE2_REACH, mode=Mode.PRIVATE) & part.part
    add(cut_extrude2_tool1.solids().sort_by_distance((22.225, 3.175, 40.64))[0], mode=Mode.SUBTRACT)
    add(cut_extrude2_tool2.solids().sort_by_distance((66.675, 3.175, 40.64))[0], mode=Mode.SUBTRACT)
    add(cut_extrude2_tool3.solids().sort_by_distance((0, 3.175, 40.64))[0], mode=Mode.SUBTRACT)
    add(cut_extrude2_tool4.solids().sort_by_distance((44.45, 3.175, 40.64))[0], mode=Mode.SUBTRACT)
    add(cut_extrude2_tool5.solids().sort_by_distance((88.9, 3.175, 40.64))[0], mode=Mode.SUBTRACT)

    # Fillet1
    fillet1_edges = [part.edges().sort_by_distance(p)[0] for p in [
        (-15.478725, 3.175, -49.850000002),
        (28.971275, 3.175, -49.850000002),
        (73.421275, 3.175, -49.850000002),
        (73.421275, 3.175, -94.300000002),
        (28.971275, 3.175, -94.300000002),
        (-15.478725, 3.175, -94.300000002),
        (73.421275, 3.175, -5.400000002),
        (28.971275, 3.175, -5.400000002),
        (-15.478725, 3.175, -5.400000002),
    ]]
    fillet(fillet1_edges, radius=FILLET1_R)

    # Sketch8 → Boss-Extrude8 (add)
    with BuildSketch(Plane(origin=(0, 0, 0), x_dir=(1, 0, 0), z_dir=(0, 1, 0))):
        with Locations((44.4494, -0.553124998)):
            Rectangle(SKETCH8_W, SKETCH8_H)
    boss_extrude8 = extrude(amount=-BOSS_EXTRUDE8_DEPTH)

    # LPattern2: Boss-Extrude8 ×3
    with Locations(*[(0, 0, -i * LPATTERN2_PITCH) for i in range(1, LPATTERN2_COUNT)]):
        add(boss_extrude8)

    # Sketch9 → Cut-Extrude3 (cut)
    with BuildSketch(Plane.XZ):
        with Locations((44.4494, -28.305760002)):
            Rectangle(SKETCH9_W, SKETCH9_H)
        with Locations((44.4494, -28.305760002)):
            Rectangle(SKETCH9_W_2, SKETCH9_H_2, mode=Mode.SUBTRACT)
    extrude(amount=CUT_EXTRUDE3_DEPTH, mode=Mode.SUBTRACT)

    # Sketch10 → Boss-Extrude9 (add)
    with BuildSketch(Plane(origin=(0, 3.175, 0), x_dir=(1, 0, 0), z_dir=(0, 1, 0))):
        with Locations((44.4494, 35.560000002)):
            Rectangle(SKETCH10_W, SKETCH10_H)
        with Locations((44.4494, 35.560000002)):
            Rectangle(SKETCH10_W_2, SKETCH10_H_2, mode=Mode.SUBTRACT)
    extrude(amount=BOSS_EXTRUDE9_DEPTH)

    # Sketch11 → Boss-Extrude10 (add)
    with BuildSketch(Plane.XZ):
        with Locations((-20.0666, 43.464479998)):
            Circle(SKETCH11_R)
        with Locations((108.9654, 43.464479998)):
            Circle(SKETCH11_R)
        with Locations((108.9654, -100.076000002)):
            Circle(SKETCH11_R)
        with Locations((-20.0666, -100.076000002)):
            Circle(SKETCH11_R)
    extrude(amount=BOSS_EXTRUDE10_DEPTH)

    # Fillet5
    fillet5_edges = [part.edges().sort_by_distance(p)[0] for p in [
        (-22.6066, -6.35, -100.076000002),
        (106.4254, -6.35, -100.076000002),
        (44.4494, 0, -87.156250002),
        (44.4494, 0, -42.706250002),
        (44.4494, 0, -89.537500002),
        (44.4494, 0, -45.087500002),
        (44.4494, 0, -0.637500002),
        (44.4494, 0, 1.743749998),
        (106.4254, -6.35, 43.464479998),
        (-22.6066, -6.35, 43.464479998),
    ]]
    fillet(fillet5_edges, radius=FILLET5_R)

    # Fillet6
    fillet6_edges = [part.edges().sort_by_distance(p)[0] for p in [
        (-25.4006, 1.5875, 48.798479998),
        (114.2994, 1.5875, 48.798479998),
        (114.2994, 2.38125, -105.410000002),
        (-25.4006, 2.38125, -105.410000002),
    ]]
    fillet(fillet6_edges, radius=FILLET6_R)


solid = part.part
